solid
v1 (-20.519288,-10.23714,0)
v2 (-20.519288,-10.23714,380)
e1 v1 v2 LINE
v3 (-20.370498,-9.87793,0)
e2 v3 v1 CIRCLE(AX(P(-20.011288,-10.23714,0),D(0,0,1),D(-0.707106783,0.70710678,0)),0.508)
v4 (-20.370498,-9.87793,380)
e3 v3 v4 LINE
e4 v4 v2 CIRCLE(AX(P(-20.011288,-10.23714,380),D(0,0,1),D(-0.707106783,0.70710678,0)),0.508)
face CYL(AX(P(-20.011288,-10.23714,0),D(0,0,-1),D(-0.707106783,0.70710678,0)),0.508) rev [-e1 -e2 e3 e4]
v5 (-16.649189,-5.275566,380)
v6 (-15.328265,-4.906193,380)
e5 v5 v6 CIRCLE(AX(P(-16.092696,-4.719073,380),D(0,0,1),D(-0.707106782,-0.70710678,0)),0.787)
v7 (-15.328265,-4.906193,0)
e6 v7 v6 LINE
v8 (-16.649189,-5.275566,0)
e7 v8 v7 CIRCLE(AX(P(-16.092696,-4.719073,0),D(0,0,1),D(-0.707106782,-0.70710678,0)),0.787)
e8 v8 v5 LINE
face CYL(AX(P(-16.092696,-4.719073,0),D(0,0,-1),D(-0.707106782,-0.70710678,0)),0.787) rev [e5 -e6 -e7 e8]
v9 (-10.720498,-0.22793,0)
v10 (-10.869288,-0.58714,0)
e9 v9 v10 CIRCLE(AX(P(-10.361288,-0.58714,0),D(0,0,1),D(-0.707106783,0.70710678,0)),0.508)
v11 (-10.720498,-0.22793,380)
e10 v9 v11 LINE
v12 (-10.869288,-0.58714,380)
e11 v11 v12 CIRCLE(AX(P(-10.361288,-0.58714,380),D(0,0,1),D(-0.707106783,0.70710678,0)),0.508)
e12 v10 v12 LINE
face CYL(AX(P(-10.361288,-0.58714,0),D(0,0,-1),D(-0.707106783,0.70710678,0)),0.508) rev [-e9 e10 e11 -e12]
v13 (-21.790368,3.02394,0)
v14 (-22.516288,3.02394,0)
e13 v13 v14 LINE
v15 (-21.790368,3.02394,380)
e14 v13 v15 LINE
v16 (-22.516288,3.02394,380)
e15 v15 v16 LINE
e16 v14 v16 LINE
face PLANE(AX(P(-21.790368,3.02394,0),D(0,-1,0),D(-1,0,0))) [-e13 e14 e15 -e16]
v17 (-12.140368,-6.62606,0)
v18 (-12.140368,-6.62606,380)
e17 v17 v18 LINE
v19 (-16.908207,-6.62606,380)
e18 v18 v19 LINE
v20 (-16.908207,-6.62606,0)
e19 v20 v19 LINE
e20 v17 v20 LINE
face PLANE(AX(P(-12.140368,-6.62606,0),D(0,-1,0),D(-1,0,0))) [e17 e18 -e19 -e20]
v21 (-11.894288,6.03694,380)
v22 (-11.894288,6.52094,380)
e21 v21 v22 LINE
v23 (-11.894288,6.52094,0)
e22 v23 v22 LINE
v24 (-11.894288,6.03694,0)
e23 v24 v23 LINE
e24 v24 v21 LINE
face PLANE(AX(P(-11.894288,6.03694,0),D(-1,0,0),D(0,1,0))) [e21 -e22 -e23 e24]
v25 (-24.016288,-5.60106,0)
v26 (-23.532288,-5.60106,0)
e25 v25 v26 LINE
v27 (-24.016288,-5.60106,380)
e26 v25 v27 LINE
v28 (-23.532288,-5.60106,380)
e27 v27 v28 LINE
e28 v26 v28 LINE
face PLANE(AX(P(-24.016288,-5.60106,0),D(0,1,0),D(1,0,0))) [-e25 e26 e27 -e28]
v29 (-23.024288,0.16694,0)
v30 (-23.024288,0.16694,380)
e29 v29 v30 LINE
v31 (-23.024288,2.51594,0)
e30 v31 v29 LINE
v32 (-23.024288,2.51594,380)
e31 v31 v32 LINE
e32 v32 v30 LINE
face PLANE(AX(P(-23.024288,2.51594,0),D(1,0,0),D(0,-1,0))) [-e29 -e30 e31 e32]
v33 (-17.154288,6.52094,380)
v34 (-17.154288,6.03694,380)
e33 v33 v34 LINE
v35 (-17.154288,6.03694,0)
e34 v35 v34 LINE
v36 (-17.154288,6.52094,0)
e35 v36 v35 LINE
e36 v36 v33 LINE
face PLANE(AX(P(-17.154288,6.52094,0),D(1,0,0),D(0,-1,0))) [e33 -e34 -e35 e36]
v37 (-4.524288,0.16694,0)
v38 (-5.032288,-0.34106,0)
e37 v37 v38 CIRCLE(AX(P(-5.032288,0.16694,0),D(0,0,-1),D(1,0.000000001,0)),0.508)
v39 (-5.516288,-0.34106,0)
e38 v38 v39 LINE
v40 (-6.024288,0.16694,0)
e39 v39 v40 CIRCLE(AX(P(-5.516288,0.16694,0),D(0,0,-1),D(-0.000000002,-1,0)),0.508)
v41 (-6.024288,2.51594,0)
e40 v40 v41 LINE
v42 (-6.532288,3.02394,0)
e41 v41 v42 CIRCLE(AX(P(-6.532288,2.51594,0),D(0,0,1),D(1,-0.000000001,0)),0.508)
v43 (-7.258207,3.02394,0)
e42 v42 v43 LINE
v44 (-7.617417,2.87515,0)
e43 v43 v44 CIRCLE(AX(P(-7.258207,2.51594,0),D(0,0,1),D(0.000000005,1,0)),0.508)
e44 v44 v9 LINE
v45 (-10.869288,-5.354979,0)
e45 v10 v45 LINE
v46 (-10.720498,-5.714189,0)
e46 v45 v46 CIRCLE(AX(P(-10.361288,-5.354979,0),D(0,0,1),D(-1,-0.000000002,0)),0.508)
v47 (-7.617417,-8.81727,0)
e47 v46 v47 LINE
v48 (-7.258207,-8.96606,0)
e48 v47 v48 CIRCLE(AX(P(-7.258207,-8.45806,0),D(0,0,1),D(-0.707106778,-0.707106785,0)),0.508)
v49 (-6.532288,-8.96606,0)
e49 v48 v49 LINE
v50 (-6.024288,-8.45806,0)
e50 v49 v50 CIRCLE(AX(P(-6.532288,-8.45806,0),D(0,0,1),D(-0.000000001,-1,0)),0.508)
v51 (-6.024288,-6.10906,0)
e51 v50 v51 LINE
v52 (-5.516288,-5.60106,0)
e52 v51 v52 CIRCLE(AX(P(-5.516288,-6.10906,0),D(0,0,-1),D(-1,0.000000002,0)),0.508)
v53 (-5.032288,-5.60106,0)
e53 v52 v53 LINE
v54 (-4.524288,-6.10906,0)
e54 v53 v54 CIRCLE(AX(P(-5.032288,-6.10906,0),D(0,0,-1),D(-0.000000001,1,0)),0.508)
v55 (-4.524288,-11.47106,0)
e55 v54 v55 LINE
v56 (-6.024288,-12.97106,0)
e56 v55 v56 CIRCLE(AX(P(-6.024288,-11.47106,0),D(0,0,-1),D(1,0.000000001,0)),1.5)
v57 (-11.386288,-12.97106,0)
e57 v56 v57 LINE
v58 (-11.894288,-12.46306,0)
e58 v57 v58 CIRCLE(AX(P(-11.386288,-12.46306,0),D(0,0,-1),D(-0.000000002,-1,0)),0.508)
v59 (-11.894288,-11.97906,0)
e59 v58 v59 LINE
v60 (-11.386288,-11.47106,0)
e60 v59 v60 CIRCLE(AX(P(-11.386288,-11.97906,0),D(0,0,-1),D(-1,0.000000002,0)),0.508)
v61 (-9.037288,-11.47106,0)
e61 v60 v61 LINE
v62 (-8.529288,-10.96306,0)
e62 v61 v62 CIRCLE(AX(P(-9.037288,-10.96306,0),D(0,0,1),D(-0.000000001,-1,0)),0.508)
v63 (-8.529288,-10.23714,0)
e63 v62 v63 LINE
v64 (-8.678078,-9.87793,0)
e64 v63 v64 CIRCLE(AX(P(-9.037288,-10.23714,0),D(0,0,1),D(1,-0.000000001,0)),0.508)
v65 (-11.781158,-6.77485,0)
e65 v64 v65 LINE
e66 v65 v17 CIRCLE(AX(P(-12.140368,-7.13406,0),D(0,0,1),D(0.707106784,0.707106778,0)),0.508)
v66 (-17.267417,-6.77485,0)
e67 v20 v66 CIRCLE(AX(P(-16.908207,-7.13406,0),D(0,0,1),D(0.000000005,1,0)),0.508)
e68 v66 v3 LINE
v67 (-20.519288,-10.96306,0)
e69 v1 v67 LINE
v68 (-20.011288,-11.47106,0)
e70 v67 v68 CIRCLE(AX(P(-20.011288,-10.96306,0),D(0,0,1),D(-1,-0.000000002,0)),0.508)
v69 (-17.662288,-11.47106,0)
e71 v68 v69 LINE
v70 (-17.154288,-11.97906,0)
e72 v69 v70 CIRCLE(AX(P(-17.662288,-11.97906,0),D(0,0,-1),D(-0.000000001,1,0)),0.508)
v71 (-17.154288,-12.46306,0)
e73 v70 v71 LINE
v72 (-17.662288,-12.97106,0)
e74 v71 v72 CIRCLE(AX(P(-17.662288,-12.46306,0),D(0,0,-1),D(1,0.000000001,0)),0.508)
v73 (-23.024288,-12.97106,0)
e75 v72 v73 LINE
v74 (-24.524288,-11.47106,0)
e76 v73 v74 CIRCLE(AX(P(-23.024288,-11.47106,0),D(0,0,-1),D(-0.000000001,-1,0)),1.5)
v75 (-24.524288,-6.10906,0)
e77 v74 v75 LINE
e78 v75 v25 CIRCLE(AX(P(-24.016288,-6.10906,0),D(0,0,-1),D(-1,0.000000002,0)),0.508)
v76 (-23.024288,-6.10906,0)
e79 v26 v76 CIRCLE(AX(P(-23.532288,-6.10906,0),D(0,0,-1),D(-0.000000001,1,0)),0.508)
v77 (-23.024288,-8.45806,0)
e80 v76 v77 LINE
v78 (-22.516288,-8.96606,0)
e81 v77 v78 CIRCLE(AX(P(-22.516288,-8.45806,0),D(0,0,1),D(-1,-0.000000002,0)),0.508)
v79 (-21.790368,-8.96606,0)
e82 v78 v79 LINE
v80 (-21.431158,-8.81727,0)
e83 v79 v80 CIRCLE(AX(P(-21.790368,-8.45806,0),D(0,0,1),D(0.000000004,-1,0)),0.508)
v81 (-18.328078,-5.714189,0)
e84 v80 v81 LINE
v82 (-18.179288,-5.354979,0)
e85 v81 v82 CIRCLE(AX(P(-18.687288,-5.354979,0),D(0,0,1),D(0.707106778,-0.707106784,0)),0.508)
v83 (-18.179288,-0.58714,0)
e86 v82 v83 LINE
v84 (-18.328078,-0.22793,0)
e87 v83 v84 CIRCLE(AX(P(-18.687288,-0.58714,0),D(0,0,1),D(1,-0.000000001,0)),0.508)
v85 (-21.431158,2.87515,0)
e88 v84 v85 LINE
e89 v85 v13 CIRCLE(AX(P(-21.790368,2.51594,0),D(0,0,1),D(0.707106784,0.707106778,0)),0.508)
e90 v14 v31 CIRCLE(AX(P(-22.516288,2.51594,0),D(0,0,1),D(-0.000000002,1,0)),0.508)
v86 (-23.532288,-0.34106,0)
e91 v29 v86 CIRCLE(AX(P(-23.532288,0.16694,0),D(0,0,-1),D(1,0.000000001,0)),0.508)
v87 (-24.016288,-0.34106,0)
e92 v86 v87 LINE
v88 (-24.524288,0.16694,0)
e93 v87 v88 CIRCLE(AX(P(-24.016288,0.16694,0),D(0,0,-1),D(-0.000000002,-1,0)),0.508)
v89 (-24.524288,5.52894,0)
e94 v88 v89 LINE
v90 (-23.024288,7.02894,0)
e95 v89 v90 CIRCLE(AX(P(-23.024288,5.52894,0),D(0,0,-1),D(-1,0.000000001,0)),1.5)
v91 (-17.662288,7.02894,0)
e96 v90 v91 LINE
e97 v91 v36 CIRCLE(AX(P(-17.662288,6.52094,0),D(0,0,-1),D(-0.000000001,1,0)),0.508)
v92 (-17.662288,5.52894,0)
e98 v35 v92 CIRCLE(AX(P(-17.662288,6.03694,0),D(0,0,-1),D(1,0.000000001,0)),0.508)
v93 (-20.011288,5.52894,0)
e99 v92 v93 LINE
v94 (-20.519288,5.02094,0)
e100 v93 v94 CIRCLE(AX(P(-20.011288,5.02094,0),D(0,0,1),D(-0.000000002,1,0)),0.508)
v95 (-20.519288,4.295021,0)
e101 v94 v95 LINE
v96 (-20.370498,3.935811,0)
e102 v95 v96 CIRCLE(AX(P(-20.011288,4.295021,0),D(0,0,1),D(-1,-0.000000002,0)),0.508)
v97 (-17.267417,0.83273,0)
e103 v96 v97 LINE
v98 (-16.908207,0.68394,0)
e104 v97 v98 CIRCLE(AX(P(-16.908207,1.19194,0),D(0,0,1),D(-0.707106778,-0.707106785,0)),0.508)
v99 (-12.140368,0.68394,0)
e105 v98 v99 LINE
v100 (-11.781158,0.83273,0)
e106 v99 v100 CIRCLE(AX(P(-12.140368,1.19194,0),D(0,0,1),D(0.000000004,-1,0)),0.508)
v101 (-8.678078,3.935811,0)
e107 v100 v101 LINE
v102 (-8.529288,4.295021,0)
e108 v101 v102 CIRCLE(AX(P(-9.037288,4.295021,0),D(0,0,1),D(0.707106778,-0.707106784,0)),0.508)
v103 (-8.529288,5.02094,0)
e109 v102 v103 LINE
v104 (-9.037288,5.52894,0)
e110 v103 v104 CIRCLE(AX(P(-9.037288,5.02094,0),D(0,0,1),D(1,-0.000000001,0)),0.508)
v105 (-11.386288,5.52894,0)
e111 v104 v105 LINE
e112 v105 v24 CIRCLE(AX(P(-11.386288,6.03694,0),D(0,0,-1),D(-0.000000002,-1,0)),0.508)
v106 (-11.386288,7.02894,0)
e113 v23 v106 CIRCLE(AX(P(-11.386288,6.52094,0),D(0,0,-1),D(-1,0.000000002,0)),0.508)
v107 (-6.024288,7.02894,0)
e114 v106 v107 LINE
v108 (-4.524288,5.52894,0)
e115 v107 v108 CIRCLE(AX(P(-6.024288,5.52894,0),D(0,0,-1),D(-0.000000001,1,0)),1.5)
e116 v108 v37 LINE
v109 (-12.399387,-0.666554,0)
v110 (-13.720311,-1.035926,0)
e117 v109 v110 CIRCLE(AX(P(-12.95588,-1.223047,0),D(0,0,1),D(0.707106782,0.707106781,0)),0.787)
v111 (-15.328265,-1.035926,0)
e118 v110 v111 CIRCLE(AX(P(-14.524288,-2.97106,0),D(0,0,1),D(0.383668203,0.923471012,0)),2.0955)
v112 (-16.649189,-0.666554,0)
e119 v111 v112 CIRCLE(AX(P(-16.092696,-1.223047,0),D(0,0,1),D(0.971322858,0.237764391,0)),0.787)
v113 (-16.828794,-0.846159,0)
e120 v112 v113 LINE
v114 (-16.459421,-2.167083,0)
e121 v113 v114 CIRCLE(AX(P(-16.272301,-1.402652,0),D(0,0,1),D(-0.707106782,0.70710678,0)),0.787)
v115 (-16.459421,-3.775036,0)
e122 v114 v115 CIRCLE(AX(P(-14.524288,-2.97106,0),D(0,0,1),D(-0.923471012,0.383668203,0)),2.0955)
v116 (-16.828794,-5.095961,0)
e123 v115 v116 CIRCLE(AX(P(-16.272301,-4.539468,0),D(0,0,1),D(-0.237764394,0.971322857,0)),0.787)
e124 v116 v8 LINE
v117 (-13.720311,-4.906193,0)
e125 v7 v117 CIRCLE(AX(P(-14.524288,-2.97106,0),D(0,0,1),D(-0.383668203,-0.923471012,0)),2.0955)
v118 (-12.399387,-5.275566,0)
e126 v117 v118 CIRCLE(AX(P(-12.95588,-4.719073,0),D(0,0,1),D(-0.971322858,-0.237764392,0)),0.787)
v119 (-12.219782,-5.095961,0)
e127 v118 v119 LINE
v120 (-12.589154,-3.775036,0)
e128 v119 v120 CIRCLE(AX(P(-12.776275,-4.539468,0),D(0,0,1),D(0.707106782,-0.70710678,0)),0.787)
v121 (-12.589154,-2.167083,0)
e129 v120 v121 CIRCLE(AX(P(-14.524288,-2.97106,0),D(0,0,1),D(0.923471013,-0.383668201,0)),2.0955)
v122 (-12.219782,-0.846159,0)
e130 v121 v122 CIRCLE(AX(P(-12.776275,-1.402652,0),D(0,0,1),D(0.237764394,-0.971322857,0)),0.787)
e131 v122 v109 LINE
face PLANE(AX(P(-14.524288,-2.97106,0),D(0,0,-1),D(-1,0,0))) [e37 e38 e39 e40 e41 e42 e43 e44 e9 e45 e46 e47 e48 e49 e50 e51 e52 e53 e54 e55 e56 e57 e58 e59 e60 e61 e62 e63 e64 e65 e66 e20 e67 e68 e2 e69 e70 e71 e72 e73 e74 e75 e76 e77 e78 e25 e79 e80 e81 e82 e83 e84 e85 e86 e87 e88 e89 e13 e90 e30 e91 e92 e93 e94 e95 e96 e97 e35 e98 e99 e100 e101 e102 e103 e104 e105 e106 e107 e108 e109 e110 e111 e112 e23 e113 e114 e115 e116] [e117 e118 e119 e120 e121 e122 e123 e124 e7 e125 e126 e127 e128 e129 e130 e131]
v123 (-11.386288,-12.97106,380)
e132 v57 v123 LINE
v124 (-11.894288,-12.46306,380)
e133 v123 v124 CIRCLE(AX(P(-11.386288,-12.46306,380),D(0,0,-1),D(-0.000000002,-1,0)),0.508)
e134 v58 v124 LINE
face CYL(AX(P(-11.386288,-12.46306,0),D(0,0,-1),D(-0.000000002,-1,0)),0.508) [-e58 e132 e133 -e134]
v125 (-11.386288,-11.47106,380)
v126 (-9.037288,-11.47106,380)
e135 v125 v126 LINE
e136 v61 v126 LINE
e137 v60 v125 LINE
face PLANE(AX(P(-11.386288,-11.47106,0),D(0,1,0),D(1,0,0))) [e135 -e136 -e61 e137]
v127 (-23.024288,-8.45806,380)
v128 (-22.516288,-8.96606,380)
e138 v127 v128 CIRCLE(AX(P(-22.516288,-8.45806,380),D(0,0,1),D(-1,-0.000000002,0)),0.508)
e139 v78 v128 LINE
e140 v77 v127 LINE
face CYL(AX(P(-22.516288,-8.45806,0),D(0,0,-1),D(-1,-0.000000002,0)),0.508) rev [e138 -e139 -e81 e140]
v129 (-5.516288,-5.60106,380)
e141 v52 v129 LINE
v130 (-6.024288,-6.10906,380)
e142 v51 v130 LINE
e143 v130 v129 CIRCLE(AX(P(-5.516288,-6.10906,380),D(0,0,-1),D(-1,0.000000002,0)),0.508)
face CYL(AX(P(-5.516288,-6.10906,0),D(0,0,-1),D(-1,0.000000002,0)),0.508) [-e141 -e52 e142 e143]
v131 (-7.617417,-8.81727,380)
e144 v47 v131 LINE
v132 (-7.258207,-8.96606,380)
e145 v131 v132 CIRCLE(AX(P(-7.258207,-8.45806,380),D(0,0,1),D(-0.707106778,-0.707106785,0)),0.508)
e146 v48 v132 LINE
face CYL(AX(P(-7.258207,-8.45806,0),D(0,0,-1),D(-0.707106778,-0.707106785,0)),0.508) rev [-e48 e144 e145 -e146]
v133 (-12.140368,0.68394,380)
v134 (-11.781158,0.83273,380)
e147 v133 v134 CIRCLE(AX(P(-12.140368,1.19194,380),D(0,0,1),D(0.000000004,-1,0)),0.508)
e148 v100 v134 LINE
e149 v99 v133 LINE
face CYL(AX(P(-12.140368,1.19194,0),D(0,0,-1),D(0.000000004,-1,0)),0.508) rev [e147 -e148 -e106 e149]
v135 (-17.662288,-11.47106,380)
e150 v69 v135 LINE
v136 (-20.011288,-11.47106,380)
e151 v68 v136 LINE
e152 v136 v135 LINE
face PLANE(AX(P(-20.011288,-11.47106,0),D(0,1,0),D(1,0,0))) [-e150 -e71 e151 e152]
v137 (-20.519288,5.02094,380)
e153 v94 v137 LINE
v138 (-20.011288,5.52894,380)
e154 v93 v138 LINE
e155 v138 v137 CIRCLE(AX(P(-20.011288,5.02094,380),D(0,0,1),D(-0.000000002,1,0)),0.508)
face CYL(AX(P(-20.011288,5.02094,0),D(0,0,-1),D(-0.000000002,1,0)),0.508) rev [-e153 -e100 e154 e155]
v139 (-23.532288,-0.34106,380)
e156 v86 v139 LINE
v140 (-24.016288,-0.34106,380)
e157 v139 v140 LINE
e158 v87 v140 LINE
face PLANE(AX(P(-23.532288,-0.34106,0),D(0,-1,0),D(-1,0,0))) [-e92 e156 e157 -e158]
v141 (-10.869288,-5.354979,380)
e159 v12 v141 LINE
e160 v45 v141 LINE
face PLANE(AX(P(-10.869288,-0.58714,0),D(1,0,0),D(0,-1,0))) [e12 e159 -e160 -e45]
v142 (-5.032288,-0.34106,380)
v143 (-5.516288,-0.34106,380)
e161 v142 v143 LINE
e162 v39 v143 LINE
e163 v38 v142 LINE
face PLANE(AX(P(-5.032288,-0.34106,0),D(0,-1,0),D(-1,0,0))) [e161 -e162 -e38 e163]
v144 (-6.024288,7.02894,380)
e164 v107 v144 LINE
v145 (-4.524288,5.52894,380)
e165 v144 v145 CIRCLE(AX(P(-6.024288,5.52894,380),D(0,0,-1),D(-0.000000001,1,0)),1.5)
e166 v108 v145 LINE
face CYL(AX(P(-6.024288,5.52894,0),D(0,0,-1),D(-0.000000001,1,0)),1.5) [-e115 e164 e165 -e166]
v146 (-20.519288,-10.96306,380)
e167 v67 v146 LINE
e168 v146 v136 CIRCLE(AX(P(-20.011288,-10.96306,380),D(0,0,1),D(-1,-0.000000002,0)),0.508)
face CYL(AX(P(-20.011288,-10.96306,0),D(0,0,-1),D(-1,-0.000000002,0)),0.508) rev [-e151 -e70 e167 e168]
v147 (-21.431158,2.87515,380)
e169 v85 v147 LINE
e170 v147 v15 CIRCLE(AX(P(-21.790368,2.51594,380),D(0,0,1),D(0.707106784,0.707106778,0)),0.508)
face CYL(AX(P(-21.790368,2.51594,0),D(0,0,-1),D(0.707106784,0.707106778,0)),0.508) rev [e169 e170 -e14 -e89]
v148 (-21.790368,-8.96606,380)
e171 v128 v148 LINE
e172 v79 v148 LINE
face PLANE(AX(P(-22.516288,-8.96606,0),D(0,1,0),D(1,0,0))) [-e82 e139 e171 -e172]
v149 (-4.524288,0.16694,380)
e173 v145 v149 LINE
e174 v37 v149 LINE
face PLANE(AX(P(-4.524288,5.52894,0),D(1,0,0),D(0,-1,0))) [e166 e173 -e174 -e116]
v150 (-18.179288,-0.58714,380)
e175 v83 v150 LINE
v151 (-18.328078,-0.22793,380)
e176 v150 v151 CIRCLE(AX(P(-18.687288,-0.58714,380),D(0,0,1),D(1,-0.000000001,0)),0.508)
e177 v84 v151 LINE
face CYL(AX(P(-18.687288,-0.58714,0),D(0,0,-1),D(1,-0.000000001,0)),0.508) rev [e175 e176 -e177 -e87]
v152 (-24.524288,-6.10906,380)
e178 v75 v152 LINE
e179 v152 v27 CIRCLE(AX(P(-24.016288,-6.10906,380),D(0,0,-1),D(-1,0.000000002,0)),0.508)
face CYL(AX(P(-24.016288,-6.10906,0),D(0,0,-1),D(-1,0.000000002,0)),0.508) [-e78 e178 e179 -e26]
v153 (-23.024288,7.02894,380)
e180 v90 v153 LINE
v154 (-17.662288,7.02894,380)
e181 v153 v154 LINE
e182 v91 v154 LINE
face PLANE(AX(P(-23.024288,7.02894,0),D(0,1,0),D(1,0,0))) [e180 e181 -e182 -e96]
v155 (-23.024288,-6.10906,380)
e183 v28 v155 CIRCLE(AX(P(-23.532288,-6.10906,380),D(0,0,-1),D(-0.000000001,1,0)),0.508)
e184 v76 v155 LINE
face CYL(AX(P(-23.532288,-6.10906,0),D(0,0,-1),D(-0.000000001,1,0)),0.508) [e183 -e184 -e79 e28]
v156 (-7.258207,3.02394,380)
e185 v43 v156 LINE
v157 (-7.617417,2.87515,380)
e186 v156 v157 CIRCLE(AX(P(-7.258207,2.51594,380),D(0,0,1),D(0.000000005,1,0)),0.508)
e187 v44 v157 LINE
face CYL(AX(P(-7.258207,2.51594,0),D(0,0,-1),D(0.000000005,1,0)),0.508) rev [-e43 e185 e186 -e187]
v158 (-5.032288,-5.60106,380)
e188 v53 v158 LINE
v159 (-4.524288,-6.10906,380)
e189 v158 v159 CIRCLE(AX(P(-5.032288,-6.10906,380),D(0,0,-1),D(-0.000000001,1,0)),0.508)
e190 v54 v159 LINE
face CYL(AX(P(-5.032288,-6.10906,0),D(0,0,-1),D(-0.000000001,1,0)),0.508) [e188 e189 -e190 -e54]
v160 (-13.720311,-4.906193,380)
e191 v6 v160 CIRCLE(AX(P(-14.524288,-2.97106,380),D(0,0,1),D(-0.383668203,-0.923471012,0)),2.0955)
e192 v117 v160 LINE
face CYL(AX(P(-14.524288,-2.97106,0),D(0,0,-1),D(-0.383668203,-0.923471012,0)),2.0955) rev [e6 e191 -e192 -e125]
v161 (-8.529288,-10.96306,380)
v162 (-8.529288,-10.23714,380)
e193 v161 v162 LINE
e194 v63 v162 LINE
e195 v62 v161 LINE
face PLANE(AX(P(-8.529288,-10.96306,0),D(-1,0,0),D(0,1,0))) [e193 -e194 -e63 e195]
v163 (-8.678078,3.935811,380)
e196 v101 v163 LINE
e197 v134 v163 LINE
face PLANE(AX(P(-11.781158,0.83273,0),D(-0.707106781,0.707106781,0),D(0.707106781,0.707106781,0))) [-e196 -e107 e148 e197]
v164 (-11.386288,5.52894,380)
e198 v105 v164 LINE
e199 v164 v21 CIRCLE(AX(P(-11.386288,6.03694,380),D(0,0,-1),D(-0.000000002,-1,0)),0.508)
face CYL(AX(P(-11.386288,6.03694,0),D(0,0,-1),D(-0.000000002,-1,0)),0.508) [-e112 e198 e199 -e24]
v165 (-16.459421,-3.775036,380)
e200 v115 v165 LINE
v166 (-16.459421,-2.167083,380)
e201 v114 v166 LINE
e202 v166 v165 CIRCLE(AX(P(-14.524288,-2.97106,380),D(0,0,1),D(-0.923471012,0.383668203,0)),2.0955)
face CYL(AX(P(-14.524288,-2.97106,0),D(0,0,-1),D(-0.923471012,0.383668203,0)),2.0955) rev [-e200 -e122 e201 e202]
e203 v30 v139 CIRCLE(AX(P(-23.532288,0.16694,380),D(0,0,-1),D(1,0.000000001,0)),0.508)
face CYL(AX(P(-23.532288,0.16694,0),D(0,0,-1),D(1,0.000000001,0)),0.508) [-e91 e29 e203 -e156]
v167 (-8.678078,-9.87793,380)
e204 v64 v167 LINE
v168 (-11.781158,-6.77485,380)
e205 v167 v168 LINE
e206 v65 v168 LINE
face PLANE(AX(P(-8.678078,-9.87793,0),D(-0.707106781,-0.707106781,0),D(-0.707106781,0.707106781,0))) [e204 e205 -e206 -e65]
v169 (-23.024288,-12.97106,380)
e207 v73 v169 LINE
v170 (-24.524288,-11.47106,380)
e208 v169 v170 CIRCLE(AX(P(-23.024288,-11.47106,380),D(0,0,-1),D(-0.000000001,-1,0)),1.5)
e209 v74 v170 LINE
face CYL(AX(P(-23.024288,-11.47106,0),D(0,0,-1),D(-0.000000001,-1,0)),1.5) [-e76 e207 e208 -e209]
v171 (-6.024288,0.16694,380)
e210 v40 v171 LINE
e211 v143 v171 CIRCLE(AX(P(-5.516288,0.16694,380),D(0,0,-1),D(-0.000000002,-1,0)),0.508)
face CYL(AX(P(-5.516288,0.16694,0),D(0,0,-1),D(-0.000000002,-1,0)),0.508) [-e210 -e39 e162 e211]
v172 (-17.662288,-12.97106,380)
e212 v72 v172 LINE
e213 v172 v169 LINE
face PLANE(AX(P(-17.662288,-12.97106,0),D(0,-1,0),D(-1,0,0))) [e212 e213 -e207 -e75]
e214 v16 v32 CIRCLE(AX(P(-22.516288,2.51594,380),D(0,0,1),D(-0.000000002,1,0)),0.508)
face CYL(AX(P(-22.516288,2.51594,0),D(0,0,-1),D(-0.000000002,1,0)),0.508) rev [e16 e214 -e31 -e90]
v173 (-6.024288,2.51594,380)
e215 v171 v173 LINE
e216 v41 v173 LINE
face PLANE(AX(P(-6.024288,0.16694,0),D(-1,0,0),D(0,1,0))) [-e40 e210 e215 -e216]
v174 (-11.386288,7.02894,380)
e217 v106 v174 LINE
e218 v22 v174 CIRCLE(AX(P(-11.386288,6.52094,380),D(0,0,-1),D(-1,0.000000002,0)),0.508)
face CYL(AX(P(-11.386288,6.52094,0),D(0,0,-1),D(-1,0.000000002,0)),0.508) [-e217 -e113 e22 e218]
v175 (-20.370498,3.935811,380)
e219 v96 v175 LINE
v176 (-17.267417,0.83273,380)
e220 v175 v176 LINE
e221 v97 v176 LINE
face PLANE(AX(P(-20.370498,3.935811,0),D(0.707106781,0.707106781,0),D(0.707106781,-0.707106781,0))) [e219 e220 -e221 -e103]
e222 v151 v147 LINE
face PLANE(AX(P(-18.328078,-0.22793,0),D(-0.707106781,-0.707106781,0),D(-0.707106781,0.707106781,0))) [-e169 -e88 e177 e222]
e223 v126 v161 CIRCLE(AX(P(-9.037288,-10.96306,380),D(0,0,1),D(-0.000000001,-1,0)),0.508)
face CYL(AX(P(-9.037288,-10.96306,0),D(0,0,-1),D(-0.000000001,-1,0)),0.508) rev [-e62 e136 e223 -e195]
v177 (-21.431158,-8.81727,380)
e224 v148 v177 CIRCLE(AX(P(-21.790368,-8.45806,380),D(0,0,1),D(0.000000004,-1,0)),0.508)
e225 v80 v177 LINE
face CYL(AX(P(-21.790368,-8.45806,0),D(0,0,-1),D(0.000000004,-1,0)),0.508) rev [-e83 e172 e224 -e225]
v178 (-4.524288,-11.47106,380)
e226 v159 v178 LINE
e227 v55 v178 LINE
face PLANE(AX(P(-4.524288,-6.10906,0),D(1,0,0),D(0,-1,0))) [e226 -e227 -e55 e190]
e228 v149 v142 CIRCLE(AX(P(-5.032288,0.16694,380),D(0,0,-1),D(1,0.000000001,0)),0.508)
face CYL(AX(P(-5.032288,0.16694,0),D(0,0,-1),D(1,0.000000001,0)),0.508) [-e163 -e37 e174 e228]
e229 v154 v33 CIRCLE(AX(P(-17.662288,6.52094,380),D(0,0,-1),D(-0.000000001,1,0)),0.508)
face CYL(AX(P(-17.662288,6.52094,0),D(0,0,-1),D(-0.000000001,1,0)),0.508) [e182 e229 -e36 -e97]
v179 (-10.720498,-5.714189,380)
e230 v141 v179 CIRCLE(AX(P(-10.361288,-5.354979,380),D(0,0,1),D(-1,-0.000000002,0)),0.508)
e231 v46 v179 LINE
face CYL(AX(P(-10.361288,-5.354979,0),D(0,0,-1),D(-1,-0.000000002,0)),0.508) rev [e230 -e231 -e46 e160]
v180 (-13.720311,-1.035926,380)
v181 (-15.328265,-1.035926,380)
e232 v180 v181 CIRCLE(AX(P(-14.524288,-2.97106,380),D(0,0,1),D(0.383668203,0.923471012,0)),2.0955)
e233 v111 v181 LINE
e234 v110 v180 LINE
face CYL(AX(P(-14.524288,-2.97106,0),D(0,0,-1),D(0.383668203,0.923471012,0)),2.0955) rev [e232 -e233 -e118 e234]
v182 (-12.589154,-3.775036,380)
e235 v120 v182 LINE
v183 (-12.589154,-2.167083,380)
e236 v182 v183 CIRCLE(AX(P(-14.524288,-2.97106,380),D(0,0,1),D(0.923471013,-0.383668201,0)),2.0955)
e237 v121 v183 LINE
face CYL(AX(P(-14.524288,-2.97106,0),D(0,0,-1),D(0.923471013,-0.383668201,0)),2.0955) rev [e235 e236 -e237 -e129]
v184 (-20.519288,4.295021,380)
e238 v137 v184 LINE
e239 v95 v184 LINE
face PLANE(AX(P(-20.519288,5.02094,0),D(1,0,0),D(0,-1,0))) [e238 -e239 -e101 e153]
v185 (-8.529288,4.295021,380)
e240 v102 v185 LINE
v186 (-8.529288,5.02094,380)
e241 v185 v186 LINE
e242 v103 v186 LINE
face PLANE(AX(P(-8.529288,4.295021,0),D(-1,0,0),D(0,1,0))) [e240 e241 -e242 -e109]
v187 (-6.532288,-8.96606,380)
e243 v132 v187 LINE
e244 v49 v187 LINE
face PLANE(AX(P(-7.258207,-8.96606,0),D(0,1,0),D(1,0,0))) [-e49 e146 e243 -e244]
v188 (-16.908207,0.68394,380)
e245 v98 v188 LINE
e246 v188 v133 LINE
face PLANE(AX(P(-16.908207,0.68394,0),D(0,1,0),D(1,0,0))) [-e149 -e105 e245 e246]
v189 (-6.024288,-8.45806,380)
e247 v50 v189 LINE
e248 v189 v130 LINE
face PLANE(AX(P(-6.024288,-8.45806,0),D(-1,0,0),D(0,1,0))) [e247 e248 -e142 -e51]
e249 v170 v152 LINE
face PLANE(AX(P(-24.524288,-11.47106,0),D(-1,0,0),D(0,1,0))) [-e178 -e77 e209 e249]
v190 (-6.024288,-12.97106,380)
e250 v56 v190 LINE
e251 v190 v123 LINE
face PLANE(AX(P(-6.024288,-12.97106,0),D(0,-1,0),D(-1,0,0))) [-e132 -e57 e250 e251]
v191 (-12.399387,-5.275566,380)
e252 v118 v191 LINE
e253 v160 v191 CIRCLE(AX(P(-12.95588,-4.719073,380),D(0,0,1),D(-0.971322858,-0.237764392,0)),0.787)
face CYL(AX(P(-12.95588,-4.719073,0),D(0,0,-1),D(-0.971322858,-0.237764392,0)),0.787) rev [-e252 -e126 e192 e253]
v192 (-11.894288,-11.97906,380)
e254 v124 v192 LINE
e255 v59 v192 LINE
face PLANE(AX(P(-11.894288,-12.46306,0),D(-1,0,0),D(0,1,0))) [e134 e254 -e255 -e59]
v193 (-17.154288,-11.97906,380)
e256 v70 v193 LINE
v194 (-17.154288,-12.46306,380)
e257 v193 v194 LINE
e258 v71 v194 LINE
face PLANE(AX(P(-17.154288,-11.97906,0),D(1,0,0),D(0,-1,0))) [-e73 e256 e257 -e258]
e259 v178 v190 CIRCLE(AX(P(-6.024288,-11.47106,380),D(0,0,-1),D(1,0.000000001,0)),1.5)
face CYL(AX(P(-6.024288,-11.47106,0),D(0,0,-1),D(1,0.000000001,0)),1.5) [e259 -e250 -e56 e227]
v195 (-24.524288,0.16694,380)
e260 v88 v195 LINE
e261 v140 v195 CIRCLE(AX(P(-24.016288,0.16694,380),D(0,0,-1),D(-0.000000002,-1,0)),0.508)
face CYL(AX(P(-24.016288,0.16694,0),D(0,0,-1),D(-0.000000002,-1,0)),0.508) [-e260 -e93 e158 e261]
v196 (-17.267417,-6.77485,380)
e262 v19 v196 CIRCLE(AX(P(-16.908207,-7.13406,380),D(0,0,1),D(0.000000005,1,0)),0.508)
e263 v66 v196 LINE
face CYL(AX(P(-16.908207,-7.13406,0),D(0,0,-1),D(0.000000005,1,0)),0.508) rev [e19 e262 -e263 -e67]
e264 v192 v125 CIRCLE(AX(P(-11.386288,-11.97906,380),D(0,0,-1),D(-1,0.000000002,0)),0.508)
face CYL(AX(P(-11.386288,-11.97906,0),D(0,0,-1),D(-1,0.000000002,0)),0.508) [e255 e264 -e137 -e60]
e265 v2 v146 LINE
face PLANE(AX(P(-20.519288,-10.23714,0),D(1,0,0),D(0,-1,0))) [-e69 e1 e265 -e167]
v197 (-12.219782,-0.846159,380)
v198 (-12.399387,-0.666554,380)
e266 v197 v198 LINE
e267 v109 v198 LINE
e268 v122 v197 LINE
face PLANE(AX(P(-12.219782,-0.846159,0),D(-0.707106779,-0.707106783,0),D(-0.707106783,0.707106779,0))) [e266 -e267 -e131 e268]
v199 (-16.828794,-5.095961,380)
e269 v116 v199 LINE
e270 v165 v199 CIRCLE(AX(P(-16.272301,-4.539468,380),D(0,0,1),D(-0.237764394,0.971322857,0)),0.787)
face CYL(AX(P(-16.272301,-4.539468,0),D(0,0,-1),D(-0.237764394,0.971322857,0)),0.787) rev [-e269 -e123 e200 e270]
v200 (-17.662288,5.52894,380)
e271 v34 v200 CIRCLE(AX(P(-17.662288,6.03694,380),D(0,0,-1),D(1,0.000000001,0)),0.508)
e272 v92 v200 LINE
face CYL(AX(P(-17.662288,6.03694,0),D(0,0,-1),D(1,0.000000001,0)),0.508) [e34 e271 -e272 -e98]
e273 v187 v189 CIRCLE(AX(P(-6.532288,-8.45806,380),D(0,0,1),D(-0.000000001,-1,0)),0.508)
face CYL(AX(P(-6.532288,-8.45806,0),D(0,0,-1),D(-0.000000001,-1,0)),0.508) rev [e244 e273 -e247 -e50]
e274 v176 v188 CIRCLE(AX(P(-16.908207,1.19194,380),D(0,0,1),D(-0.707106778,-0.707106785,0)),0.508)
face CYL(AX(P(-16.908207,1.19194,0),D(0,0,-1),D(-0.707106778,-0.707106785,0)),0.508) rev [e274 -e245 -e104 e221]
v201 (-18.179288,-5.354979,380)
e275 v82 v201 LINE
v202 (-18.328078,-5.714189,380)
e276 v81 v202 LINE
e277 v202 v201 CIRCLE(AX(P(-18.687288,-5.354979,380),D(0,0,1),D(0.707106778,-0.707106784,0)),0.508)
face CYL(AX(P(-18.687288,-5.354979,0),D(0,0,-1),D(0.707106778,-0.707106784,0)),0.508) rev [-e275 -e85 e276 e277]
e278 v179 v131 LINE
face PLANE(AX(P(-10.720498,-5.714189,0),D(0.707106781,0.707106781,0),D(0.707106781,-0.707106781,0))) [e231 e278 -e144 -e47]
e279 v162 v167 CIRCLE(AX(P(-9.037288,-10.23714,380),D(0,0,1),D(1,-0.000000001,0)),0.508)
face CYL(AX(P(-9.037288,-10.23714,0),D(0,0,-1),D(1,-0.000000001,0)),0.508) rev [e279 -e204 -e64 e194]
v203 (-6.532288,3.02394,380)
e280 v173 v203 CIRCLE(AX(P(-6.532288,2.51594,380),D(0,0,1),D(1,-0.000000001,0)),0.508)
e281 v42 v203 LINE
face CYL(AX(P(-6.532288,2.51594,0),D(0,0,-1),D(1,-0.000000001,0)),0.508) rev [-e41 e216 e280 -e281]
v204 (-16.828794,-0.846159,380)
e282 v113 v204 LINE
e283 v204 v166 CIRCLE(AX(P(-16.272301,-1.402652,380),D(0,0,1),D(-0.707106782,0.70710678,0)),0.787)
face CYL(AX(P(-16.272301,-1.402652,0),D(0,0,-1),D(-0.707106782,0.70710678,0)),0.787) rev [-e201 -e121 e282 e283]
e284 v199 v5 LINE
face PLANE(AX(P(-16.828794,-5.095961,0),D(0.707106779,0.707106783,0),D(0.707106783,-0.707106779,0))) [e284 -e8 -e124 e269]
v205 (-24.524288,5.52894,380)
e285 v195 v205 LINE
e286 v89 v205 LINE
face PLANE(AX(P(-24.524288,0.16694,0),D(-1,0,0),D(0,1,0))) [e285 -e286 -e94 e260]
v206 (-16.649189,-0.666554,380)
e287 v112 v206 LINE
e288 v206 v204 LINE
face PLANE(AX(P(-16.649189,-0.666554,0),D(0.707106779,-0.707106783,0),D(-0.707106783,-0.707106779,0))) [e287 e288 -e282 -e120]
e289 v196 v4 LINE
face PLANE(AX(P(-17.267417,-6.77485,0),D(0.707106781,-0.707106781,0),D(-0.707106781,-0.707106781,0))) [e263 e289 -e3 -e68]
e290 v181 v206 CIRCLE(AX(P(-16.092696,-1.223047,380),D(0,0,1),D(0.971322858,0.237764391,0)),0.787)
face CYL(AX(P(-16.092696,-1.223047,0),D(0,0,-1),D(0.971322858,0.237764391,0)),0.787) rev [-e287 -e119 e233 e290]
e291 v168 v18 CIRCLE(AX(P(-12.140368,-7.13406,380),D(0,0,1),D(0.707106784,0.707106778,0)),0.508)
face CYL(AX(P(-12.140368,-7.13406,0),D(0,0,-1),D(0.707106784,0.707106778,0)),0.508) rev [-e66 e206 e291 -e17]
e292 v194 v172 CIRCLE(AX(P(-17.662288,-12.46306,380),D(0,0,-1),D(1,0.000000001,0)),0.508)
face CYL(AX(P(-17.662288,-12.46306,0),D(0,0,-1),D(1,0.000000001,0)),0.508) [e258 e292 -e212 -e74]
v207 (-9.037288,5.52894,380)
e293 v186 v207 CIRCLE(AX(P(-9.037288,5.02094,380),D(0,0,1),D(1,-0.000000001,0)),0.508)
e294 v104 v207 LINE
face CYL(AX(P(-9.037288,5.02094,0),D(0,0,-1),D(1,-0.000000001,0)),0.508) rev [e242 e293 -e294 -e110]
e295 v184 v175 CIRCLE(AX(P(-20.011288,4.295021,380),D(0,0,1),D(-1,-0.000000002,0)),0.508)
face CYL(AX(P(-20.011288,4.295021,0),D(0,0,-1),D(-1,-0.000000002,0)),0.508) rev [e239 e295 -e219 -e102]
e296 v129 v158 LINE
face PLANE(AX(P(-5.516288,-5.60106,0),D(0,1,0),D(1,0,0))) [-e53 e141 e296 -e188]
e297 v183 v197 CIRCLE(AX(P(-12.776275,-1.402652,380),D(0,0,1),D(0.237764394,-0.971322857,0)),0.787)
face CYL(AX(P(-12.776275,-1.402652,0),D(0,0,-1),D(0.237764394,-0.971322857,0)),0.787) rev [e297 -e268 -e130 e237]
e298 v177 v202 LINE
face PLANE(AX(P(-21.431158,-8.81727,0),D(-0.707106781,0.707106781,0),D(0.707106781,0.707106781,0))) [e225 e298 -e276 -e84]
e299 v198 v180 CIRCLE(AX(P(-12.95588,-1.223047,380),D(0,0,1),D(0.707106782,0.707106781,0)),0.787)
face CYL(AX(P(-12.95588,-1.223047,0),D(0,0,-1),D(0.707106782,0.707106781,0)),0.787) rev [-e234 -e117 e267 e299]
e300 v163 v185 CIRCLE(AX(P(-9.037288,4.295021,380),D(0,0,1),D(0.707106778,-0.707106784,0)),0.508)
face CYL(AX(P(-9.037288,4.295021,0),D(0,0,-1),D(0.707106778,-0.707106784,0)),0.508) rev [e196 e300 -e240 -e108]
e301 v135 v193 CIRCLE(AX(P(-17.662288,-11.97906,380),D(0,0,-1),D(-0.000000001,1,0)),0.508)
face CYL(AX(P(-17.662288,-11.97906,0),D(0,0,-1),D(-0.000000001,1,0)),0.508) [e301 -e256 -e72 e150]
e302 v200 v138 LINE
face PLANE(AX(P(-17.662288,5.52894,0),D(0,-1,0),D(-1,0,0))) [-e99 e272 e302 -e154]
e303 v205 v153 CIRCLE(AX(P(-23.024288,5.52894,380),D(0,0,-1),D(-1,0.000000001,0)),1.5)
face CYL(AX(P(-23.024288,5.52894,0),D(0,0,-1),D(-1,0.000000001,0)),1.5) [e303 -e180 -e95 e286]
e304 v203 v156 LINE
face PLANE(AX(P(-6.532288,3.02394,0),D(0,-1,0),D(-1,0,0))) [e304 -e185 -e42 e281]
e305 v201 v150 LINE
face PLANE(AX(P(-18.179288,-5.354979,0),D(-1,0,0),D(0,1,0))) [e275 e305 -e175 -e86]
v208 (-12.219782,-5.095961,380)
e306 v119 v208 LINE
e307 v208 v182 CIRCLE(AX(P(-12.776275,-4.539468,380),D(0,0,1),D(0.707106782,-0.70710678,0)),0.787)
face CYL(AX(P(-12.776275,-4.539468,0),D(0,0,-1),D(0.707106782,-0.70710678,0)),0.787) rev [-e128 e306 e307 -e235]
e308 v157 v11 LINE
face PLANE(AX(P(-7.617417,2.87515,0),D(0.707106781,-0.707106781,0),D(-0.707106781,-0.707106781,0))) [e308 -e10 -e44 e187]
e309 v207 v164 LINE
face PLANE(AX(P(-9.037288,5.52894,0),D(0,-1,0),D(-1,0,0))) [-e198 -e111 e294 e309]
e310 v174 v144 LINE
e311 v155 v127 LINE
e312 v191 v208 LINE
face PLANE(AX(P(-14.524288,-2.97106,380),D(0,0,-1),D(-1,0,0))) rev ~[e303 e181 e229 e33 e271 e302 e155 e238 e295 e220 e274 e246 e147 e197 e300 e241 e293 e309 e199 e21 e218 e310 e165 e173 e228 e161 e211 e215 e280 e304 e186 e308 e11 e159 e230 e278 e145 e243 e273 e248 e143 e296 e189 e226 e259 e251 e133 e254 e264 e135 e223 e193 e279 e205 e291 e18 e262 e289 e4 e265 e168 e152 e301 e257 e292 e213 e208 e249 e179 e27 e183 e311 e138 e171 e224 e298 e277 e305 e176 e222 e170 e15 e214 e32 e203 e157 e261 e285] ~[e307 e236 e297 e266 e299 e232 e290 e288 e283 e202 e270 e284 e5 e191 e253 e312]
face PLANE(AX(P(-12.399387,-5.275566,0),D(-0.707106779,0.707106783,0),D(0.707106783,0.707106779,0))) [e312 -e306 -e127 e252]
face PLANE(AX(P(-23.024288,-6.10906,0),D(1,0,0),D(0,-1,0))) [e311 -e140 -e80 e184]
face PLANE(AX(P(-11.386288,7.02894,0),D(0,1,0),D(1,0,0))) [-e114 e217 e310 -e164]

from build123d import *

# Parameters (mm, degrees)
EXTRUDE1_DEPTH = 380


with BuildPart() as part:
    # Sketch1 → Extrude1 (new body)
    with BuildSketch(Plane.XY):
        with BuildLine():
            Line((-5.032287798, -0.341059771), (-5.516287798, -0.341059771))
            ThreePointArc((-5.516287798, -0.341059771), (-5.875498042, -0.192270016), (-6.024287798, 0.166940229))
            Line((-6.024287798, 0.166940229), (-6.024287798, 2.515940229))
            ThreePointArc((-6.024287798, 2.515940229), (-6.173077553, 2.875150474), (-6.532287798, 3.023940229))
            Line((-6.532287798, 3.023940229), (-7.258207136, 3.023940229))
            ThreePointArc((-7.258207136, 3.023940229), (-7.45261032, 2.985271032), (-7.617417381, 2.875150474))
            Line((-7.617417381, 2.875150474), (-10.720498042, -0.227930187))
            ThreePointArc((-10.720498042, -0.227930187), (-10.8306186, -0.392737249), (-10.869287798, -0.587140432))
            Line((-10.869287798, -0.587140432), (-10.869287798, -5.354979109))
            ThreePointArc((-10.869287798, -5.354979109), (-10.8306186, -5.549382293), (-10.720498042, -5.714189354))
            Line((-10.720498042, -5.714189354), (-7.617417381, -8.817270016))
            ThreePointArc((-7.617417381, -8.817270016), (-7.45261032, -8.927390573), (-7.258207136, -8.966059771))
            Line((-7.258207136, -8.966059771), (-6.532287798, -8.966059771))
            ThreePointArc((-6.532287798, -8.966059771), (-6.173077553, -8.817270016), (-6.024287798, -8.458059771))
            Line((-6.024287798, -8.458059771), (-6.024287798, -6.109059771))
            ThreePointArc((-6.024287798, -6.109059771), (-5.875498042, -5.749849526), (-5.516287798, -5.601059771))
            Line((-5.516287798, -5.601059771), (-5.032287798, -5.601059771))
            ThreePointArc((-5.032287798, -5.601059771), (-4.673077553, -5.749849526), (-4.524287798, -6.109059771))
            Line((-4.524287798, -6.109059771), (-4.524287798, -11.471059771))
            ThreePointArc((-4.524287798, -11.471059771), (-4.963627626, -12.531719943), (-6.024287798, -12.971059771))
            Line((-6.024287798, -12.971059771), (-11.386287798, -12.971059771))
            ThreePointArc((-11.386287798, -12.971059771), (-11.745498042, -12.822270016), (-11.894287798, -12.463059771))
            Line((-11.894287798, -12.463059771), (-11.894287798, -11.979059771))
            ThreePointArc((-11.894287798, -11.979059771), (-11.745498042, -11.619849526), (-11.386287798, -11.471059771))
            Line((-11.386287798, -11.471059771), (-9.037287798, -11.471059771))
            ThreePointArc((-9.037287798, -11.471059771), (-8.678077553, -11.322270016), (-8.529287798, -10.963059771))
            Line((-8.529287798, -10.963059771), (-8.529287798, -10.237140432))
            ThreePointArc((-8.529287798, -10.237140432), (-8.567956995, -10.042737249), (-8.678077553, -9.877930187))
            Line((-8.678077553, -9.877930187), (-11.781158214, -6.774849526))
            ThreePointArc((-11.781158214, -6.774849526), (-11.945965275, -6.664728968), (-12.140368459, -6.626059771))
            Line((-12.140368459, -6.626059771), (-16.908207136, -6.626059771))
            ThreePointArc((-16.908207136, -6.626059771), (-17.10261032, -6.664728968), (-17.267417381, -6.774849526))
            Line((-17.267417381, -6.774849526), (-20.370498042, -9.877930187))
            ThreePointArc((-20.370498042, -9.877930187), (-20.4806186, -10.042737249), (-20.519287798, -10.237140432))
            Line((-20.519287798, -10.237140432), (-20.519287798, -10.963059771))
            ThreePointArc((-20.519287798, -10.963059771), (-20.370498042, -11.322270016), (-20.011287798, -11.471059771))
            Line((-20.011287798, -11.471059771), (-17.662287798, -11.471059771))
            ThreePointArc((-17.662287798, -11.471059771), (-17.303077553, -11.619849526), (-17.154287798, -11.979059771))
            Line((-17.154287798, -11.979059771), (-17.154287798, -12.463059771))
            ThreePointArc((-17.154287798, -12.463059771), (-17.303077553, -12.822270016), (-17.662287798, -12.971059771))
            Line((-17.662287798, -12.971059771), (-23.024287798, -12.971059771))
            ThreePointArc((-23.024287798, -12.971059771), (-24.084947969, -12.531719943), (-24.524287798, -11.471059771))
            Line((-24.524287798, -11.471059771), (-24.524287798, -6.109059771))
            ThreePointArc((-24.524287798, -6.109059771), (-24.375498042, -5.749849526), (-24.016287798, -5.601059771))
            Line((-24.016287798, -5.601059771), (-23.532287798, -5.601059771))
            ThreePointArc((-23.532287798, -5.601059771), (-23.173077553, -5.749849526), (-23.024287798, -6.109059771))
            Line((-23.024287798, -6.109059771), (-23.024287798, -8.458059771))
            ThreePointArc((-23.024287798, -8.458059771), (-22.875498042, -8.817270016), (-22.516287798, -8.966059771))
            Line((-22.516287798, -8.966059771), (-21.790368459, -8.966059771))
            ThreePointArc((-21.790368459, -8.966059771), (-21.595965275, -8.927390573), (-21.431158214, -8.817270016))
            Line((-21.431158214, -8.817270016), (-18.328077553, -5.714189354))
            ThreePointArc((-18.328077553, -5.714189354), (-18.217956995, -5.549382293), (-18.179287798, -5.354979109))
            Line((-18.179287798, -5.354979109), (-18.179287798, -0.587140432))
            ThreePointArc((-18.179287798, -0.587140432), (-18.217956995, -0.392737249), (-18.328077553, -0.227930187))
            Line((-18.328077553, -0.227930187), (-21.431158214, 2.875150474))
            ThreePointArc((-21.431158214, 2.875150474), (-21.595965275, 2.985271032), (-21.790368459, 3.023940229))
            Line((-21.790368459, 3.023940229), (-22.516287798, 3.023940229))
            ThreePointArc((-22.516287798, 3.023940229), (-22.875498042, 2.875150474), (-23.024287798, 2.515940229))
            Line((-23.024287798, 2.515940229), (-23.024287798, 0.166940229))
            ThreePointArc((-23.024287798, 0.166940229), (-23.173077553, -0.192270016), (-23.532287798, -0.341059771))
            Line((-23.532287798, -0.341059771), (-24.016287798, -0.341059771))
            ThreePointArc((-24.016287798, -0.341059771), (-24.375498042, -0.192270016), (-24.524287798, 0.166940229))
            Line((-24.524287798, 0.166940229), (-24.524287798, 5.528940229))
            ThreePointArc((-24.524287798, 5.528940229), (-24.084947969, 6.589600401), (-23.024287798, 7.028940229))
            Line((-23.024287798, 7.028940229), (-17.662287798, 7.028940229))
            ThreePointArc((-17.662287798, 7.028940229), (-17.303077553, 6.880150474), (-17.154287798, 6.520940229))
            Line((-17.154287798, 6.520940229), (-17.154287798, 6.036940229))
            ThreePointArc((-17.154287798, 6.036940229), (-17.303077553, 5.677729984), (-17.662287798, 5.528940229))
            Line((-17.662287798, 5.528940229), (-20.011287798, 5.528940229))
            ThreePointArc((-20.011287798, 5.528940229), (-20.370498042, 5.380150474), (-20.519287798, 5.020940229))
            Line((-20.519287798, 5.020940229), (-20.519287798, 4.295020891))
            ThreePointArc((-20.519287798, 4.295020891), (-20.4806186, 4.100617707), (-20.370498042, 3.935810646))
            Line((-20.370498042, 3.935810646), (-17.267417381, 0.832729984))
            ThreePointArc((-17.267417381, 0.832729984), (-17.10261032, 0.722609427), (-16.908207136, 0.683940229))
            Line((-16.908207136, 0.683940229), (-12.140368459, 0.683940229))
            ThreePointArc((-12.140368459, 0.683940229), (-11.945965275, 0.722609427), (-11.781158214, 0.832729984))
            Line((-11.781158214, 0.832729984), (-8.678077553, 3.935810646))
            ThreePointArc((-8.678077553, 3.935810646), (-8.567956995, 4.100617707), (-8.529287798, 4.295020891))
            Line((-8.529287798, 4.295020891), (-8.529287798, 5.020940229))
            ThreePointArc((-8.529287798, 5.020940229), (-8.678077553, 5.380150474), (-9.037287798, 5.528940229))
            Line((-9.037287798, 5.528940229), (-11.386287798, 5.528940229))
            ThreePointArc((-11.386287798, 5.528940229), (-11.745498042, 5.677729984), (-11.894287798, 6.036940229))
            Line((-11.894287798, 6.036940229), (-11.894287798, 6.520940229))
            ThreePointArc((-11.894287798, 6.520940229), (-11.745498042, 6.880150474), (-11.386287798, 7.028940229))
            Line((-11.386287798, 7.028940229), (-6.024287798, 7.028940229))
            ThreePointArc((-6.024287798, 7.028940229), (-4.963627626, 6.589600401), (-4.524287798, 5.528940229))
            Line((-4.524287798, 5.528940229), (-4.524287798, 0.166940229))
            ThreePointArc((-4.524287798, 0.166940229), (-4.673077553, -0.192270016), (-5.032287798, -0.341059771))
        make_face()
        with BuildLine():
            Line((-12.399386954, -5.275565737), (-12.219781831, -5.095960615))
            ThreePointArc((-12.219781831, -5.095960615), (-12.018349781, -4.327527582), (-12.589154291, -3.775036489))
            ThreePointArc((-12.589154291, -3.775036489), (-12.428787798, -2.971059771), (-12.589154291, -2.167083053))
            ThreePointArc((-12.589154291, -2.167083053), (-12.018349781, -1.61459196), (-12.219781831, -0.846158927))
            Line((-12.219781831, -0.846158927), (-12.399386954, -0.666553805))
            ThreePointArc((-12.399386954, -0.666553805), (-13.167819987, -0.465121754), (-13.72031108, -1.035926265))
            ThreePointArc((-13.72031108, -1.035926265), (-14.524287798, -0.875559771), (-15.328264516, -1.035926265))
            ThreePointArc((-15.328264516, -1.035926265), (-15.880755608, -0.465121754), (-16.649188641, -0.666553805))
            Line((-16.649188641, -0.666553805), (-16.828793764, -0.846158927))
            ThreePointArc((-16.828793764, -0.846158927), (-17.030225814, -1.61459196), (-16.459421304, -2.167083053))
            ThreePointArc((-16.459421304, -2.167083053), (-16.619787798, -2.971059771), (-16.459421304, -3.775036489))
            ThreePointArc((-16.459421304, -3.775036489), (-17.030225814, -4.327527582), (-16.828793764, -5.095960615))
            Line((-16.828793764, -5.095960615), (-16.649188641, -5.275565737))
            ThreePointArc((-16.649188641, -5.275565737), (-15.880755608, -5.476997788), (-15.328264516, -4.906193277))
            ThreePointArc((-15.328264516, -4.906193277), (-14.524287798, -5.066559771), (-13.72031108, -4.906193277))
            ThreePointArc((-13.72031108, -4.906193277), (-13.167819987, -5.476997788), (-12.399386954, -5.275565737))
        make_face(mode=Mode.SUBTRACT)
    extrude(amount=EXTRUDE1_DEPTH)


solid = part.part
